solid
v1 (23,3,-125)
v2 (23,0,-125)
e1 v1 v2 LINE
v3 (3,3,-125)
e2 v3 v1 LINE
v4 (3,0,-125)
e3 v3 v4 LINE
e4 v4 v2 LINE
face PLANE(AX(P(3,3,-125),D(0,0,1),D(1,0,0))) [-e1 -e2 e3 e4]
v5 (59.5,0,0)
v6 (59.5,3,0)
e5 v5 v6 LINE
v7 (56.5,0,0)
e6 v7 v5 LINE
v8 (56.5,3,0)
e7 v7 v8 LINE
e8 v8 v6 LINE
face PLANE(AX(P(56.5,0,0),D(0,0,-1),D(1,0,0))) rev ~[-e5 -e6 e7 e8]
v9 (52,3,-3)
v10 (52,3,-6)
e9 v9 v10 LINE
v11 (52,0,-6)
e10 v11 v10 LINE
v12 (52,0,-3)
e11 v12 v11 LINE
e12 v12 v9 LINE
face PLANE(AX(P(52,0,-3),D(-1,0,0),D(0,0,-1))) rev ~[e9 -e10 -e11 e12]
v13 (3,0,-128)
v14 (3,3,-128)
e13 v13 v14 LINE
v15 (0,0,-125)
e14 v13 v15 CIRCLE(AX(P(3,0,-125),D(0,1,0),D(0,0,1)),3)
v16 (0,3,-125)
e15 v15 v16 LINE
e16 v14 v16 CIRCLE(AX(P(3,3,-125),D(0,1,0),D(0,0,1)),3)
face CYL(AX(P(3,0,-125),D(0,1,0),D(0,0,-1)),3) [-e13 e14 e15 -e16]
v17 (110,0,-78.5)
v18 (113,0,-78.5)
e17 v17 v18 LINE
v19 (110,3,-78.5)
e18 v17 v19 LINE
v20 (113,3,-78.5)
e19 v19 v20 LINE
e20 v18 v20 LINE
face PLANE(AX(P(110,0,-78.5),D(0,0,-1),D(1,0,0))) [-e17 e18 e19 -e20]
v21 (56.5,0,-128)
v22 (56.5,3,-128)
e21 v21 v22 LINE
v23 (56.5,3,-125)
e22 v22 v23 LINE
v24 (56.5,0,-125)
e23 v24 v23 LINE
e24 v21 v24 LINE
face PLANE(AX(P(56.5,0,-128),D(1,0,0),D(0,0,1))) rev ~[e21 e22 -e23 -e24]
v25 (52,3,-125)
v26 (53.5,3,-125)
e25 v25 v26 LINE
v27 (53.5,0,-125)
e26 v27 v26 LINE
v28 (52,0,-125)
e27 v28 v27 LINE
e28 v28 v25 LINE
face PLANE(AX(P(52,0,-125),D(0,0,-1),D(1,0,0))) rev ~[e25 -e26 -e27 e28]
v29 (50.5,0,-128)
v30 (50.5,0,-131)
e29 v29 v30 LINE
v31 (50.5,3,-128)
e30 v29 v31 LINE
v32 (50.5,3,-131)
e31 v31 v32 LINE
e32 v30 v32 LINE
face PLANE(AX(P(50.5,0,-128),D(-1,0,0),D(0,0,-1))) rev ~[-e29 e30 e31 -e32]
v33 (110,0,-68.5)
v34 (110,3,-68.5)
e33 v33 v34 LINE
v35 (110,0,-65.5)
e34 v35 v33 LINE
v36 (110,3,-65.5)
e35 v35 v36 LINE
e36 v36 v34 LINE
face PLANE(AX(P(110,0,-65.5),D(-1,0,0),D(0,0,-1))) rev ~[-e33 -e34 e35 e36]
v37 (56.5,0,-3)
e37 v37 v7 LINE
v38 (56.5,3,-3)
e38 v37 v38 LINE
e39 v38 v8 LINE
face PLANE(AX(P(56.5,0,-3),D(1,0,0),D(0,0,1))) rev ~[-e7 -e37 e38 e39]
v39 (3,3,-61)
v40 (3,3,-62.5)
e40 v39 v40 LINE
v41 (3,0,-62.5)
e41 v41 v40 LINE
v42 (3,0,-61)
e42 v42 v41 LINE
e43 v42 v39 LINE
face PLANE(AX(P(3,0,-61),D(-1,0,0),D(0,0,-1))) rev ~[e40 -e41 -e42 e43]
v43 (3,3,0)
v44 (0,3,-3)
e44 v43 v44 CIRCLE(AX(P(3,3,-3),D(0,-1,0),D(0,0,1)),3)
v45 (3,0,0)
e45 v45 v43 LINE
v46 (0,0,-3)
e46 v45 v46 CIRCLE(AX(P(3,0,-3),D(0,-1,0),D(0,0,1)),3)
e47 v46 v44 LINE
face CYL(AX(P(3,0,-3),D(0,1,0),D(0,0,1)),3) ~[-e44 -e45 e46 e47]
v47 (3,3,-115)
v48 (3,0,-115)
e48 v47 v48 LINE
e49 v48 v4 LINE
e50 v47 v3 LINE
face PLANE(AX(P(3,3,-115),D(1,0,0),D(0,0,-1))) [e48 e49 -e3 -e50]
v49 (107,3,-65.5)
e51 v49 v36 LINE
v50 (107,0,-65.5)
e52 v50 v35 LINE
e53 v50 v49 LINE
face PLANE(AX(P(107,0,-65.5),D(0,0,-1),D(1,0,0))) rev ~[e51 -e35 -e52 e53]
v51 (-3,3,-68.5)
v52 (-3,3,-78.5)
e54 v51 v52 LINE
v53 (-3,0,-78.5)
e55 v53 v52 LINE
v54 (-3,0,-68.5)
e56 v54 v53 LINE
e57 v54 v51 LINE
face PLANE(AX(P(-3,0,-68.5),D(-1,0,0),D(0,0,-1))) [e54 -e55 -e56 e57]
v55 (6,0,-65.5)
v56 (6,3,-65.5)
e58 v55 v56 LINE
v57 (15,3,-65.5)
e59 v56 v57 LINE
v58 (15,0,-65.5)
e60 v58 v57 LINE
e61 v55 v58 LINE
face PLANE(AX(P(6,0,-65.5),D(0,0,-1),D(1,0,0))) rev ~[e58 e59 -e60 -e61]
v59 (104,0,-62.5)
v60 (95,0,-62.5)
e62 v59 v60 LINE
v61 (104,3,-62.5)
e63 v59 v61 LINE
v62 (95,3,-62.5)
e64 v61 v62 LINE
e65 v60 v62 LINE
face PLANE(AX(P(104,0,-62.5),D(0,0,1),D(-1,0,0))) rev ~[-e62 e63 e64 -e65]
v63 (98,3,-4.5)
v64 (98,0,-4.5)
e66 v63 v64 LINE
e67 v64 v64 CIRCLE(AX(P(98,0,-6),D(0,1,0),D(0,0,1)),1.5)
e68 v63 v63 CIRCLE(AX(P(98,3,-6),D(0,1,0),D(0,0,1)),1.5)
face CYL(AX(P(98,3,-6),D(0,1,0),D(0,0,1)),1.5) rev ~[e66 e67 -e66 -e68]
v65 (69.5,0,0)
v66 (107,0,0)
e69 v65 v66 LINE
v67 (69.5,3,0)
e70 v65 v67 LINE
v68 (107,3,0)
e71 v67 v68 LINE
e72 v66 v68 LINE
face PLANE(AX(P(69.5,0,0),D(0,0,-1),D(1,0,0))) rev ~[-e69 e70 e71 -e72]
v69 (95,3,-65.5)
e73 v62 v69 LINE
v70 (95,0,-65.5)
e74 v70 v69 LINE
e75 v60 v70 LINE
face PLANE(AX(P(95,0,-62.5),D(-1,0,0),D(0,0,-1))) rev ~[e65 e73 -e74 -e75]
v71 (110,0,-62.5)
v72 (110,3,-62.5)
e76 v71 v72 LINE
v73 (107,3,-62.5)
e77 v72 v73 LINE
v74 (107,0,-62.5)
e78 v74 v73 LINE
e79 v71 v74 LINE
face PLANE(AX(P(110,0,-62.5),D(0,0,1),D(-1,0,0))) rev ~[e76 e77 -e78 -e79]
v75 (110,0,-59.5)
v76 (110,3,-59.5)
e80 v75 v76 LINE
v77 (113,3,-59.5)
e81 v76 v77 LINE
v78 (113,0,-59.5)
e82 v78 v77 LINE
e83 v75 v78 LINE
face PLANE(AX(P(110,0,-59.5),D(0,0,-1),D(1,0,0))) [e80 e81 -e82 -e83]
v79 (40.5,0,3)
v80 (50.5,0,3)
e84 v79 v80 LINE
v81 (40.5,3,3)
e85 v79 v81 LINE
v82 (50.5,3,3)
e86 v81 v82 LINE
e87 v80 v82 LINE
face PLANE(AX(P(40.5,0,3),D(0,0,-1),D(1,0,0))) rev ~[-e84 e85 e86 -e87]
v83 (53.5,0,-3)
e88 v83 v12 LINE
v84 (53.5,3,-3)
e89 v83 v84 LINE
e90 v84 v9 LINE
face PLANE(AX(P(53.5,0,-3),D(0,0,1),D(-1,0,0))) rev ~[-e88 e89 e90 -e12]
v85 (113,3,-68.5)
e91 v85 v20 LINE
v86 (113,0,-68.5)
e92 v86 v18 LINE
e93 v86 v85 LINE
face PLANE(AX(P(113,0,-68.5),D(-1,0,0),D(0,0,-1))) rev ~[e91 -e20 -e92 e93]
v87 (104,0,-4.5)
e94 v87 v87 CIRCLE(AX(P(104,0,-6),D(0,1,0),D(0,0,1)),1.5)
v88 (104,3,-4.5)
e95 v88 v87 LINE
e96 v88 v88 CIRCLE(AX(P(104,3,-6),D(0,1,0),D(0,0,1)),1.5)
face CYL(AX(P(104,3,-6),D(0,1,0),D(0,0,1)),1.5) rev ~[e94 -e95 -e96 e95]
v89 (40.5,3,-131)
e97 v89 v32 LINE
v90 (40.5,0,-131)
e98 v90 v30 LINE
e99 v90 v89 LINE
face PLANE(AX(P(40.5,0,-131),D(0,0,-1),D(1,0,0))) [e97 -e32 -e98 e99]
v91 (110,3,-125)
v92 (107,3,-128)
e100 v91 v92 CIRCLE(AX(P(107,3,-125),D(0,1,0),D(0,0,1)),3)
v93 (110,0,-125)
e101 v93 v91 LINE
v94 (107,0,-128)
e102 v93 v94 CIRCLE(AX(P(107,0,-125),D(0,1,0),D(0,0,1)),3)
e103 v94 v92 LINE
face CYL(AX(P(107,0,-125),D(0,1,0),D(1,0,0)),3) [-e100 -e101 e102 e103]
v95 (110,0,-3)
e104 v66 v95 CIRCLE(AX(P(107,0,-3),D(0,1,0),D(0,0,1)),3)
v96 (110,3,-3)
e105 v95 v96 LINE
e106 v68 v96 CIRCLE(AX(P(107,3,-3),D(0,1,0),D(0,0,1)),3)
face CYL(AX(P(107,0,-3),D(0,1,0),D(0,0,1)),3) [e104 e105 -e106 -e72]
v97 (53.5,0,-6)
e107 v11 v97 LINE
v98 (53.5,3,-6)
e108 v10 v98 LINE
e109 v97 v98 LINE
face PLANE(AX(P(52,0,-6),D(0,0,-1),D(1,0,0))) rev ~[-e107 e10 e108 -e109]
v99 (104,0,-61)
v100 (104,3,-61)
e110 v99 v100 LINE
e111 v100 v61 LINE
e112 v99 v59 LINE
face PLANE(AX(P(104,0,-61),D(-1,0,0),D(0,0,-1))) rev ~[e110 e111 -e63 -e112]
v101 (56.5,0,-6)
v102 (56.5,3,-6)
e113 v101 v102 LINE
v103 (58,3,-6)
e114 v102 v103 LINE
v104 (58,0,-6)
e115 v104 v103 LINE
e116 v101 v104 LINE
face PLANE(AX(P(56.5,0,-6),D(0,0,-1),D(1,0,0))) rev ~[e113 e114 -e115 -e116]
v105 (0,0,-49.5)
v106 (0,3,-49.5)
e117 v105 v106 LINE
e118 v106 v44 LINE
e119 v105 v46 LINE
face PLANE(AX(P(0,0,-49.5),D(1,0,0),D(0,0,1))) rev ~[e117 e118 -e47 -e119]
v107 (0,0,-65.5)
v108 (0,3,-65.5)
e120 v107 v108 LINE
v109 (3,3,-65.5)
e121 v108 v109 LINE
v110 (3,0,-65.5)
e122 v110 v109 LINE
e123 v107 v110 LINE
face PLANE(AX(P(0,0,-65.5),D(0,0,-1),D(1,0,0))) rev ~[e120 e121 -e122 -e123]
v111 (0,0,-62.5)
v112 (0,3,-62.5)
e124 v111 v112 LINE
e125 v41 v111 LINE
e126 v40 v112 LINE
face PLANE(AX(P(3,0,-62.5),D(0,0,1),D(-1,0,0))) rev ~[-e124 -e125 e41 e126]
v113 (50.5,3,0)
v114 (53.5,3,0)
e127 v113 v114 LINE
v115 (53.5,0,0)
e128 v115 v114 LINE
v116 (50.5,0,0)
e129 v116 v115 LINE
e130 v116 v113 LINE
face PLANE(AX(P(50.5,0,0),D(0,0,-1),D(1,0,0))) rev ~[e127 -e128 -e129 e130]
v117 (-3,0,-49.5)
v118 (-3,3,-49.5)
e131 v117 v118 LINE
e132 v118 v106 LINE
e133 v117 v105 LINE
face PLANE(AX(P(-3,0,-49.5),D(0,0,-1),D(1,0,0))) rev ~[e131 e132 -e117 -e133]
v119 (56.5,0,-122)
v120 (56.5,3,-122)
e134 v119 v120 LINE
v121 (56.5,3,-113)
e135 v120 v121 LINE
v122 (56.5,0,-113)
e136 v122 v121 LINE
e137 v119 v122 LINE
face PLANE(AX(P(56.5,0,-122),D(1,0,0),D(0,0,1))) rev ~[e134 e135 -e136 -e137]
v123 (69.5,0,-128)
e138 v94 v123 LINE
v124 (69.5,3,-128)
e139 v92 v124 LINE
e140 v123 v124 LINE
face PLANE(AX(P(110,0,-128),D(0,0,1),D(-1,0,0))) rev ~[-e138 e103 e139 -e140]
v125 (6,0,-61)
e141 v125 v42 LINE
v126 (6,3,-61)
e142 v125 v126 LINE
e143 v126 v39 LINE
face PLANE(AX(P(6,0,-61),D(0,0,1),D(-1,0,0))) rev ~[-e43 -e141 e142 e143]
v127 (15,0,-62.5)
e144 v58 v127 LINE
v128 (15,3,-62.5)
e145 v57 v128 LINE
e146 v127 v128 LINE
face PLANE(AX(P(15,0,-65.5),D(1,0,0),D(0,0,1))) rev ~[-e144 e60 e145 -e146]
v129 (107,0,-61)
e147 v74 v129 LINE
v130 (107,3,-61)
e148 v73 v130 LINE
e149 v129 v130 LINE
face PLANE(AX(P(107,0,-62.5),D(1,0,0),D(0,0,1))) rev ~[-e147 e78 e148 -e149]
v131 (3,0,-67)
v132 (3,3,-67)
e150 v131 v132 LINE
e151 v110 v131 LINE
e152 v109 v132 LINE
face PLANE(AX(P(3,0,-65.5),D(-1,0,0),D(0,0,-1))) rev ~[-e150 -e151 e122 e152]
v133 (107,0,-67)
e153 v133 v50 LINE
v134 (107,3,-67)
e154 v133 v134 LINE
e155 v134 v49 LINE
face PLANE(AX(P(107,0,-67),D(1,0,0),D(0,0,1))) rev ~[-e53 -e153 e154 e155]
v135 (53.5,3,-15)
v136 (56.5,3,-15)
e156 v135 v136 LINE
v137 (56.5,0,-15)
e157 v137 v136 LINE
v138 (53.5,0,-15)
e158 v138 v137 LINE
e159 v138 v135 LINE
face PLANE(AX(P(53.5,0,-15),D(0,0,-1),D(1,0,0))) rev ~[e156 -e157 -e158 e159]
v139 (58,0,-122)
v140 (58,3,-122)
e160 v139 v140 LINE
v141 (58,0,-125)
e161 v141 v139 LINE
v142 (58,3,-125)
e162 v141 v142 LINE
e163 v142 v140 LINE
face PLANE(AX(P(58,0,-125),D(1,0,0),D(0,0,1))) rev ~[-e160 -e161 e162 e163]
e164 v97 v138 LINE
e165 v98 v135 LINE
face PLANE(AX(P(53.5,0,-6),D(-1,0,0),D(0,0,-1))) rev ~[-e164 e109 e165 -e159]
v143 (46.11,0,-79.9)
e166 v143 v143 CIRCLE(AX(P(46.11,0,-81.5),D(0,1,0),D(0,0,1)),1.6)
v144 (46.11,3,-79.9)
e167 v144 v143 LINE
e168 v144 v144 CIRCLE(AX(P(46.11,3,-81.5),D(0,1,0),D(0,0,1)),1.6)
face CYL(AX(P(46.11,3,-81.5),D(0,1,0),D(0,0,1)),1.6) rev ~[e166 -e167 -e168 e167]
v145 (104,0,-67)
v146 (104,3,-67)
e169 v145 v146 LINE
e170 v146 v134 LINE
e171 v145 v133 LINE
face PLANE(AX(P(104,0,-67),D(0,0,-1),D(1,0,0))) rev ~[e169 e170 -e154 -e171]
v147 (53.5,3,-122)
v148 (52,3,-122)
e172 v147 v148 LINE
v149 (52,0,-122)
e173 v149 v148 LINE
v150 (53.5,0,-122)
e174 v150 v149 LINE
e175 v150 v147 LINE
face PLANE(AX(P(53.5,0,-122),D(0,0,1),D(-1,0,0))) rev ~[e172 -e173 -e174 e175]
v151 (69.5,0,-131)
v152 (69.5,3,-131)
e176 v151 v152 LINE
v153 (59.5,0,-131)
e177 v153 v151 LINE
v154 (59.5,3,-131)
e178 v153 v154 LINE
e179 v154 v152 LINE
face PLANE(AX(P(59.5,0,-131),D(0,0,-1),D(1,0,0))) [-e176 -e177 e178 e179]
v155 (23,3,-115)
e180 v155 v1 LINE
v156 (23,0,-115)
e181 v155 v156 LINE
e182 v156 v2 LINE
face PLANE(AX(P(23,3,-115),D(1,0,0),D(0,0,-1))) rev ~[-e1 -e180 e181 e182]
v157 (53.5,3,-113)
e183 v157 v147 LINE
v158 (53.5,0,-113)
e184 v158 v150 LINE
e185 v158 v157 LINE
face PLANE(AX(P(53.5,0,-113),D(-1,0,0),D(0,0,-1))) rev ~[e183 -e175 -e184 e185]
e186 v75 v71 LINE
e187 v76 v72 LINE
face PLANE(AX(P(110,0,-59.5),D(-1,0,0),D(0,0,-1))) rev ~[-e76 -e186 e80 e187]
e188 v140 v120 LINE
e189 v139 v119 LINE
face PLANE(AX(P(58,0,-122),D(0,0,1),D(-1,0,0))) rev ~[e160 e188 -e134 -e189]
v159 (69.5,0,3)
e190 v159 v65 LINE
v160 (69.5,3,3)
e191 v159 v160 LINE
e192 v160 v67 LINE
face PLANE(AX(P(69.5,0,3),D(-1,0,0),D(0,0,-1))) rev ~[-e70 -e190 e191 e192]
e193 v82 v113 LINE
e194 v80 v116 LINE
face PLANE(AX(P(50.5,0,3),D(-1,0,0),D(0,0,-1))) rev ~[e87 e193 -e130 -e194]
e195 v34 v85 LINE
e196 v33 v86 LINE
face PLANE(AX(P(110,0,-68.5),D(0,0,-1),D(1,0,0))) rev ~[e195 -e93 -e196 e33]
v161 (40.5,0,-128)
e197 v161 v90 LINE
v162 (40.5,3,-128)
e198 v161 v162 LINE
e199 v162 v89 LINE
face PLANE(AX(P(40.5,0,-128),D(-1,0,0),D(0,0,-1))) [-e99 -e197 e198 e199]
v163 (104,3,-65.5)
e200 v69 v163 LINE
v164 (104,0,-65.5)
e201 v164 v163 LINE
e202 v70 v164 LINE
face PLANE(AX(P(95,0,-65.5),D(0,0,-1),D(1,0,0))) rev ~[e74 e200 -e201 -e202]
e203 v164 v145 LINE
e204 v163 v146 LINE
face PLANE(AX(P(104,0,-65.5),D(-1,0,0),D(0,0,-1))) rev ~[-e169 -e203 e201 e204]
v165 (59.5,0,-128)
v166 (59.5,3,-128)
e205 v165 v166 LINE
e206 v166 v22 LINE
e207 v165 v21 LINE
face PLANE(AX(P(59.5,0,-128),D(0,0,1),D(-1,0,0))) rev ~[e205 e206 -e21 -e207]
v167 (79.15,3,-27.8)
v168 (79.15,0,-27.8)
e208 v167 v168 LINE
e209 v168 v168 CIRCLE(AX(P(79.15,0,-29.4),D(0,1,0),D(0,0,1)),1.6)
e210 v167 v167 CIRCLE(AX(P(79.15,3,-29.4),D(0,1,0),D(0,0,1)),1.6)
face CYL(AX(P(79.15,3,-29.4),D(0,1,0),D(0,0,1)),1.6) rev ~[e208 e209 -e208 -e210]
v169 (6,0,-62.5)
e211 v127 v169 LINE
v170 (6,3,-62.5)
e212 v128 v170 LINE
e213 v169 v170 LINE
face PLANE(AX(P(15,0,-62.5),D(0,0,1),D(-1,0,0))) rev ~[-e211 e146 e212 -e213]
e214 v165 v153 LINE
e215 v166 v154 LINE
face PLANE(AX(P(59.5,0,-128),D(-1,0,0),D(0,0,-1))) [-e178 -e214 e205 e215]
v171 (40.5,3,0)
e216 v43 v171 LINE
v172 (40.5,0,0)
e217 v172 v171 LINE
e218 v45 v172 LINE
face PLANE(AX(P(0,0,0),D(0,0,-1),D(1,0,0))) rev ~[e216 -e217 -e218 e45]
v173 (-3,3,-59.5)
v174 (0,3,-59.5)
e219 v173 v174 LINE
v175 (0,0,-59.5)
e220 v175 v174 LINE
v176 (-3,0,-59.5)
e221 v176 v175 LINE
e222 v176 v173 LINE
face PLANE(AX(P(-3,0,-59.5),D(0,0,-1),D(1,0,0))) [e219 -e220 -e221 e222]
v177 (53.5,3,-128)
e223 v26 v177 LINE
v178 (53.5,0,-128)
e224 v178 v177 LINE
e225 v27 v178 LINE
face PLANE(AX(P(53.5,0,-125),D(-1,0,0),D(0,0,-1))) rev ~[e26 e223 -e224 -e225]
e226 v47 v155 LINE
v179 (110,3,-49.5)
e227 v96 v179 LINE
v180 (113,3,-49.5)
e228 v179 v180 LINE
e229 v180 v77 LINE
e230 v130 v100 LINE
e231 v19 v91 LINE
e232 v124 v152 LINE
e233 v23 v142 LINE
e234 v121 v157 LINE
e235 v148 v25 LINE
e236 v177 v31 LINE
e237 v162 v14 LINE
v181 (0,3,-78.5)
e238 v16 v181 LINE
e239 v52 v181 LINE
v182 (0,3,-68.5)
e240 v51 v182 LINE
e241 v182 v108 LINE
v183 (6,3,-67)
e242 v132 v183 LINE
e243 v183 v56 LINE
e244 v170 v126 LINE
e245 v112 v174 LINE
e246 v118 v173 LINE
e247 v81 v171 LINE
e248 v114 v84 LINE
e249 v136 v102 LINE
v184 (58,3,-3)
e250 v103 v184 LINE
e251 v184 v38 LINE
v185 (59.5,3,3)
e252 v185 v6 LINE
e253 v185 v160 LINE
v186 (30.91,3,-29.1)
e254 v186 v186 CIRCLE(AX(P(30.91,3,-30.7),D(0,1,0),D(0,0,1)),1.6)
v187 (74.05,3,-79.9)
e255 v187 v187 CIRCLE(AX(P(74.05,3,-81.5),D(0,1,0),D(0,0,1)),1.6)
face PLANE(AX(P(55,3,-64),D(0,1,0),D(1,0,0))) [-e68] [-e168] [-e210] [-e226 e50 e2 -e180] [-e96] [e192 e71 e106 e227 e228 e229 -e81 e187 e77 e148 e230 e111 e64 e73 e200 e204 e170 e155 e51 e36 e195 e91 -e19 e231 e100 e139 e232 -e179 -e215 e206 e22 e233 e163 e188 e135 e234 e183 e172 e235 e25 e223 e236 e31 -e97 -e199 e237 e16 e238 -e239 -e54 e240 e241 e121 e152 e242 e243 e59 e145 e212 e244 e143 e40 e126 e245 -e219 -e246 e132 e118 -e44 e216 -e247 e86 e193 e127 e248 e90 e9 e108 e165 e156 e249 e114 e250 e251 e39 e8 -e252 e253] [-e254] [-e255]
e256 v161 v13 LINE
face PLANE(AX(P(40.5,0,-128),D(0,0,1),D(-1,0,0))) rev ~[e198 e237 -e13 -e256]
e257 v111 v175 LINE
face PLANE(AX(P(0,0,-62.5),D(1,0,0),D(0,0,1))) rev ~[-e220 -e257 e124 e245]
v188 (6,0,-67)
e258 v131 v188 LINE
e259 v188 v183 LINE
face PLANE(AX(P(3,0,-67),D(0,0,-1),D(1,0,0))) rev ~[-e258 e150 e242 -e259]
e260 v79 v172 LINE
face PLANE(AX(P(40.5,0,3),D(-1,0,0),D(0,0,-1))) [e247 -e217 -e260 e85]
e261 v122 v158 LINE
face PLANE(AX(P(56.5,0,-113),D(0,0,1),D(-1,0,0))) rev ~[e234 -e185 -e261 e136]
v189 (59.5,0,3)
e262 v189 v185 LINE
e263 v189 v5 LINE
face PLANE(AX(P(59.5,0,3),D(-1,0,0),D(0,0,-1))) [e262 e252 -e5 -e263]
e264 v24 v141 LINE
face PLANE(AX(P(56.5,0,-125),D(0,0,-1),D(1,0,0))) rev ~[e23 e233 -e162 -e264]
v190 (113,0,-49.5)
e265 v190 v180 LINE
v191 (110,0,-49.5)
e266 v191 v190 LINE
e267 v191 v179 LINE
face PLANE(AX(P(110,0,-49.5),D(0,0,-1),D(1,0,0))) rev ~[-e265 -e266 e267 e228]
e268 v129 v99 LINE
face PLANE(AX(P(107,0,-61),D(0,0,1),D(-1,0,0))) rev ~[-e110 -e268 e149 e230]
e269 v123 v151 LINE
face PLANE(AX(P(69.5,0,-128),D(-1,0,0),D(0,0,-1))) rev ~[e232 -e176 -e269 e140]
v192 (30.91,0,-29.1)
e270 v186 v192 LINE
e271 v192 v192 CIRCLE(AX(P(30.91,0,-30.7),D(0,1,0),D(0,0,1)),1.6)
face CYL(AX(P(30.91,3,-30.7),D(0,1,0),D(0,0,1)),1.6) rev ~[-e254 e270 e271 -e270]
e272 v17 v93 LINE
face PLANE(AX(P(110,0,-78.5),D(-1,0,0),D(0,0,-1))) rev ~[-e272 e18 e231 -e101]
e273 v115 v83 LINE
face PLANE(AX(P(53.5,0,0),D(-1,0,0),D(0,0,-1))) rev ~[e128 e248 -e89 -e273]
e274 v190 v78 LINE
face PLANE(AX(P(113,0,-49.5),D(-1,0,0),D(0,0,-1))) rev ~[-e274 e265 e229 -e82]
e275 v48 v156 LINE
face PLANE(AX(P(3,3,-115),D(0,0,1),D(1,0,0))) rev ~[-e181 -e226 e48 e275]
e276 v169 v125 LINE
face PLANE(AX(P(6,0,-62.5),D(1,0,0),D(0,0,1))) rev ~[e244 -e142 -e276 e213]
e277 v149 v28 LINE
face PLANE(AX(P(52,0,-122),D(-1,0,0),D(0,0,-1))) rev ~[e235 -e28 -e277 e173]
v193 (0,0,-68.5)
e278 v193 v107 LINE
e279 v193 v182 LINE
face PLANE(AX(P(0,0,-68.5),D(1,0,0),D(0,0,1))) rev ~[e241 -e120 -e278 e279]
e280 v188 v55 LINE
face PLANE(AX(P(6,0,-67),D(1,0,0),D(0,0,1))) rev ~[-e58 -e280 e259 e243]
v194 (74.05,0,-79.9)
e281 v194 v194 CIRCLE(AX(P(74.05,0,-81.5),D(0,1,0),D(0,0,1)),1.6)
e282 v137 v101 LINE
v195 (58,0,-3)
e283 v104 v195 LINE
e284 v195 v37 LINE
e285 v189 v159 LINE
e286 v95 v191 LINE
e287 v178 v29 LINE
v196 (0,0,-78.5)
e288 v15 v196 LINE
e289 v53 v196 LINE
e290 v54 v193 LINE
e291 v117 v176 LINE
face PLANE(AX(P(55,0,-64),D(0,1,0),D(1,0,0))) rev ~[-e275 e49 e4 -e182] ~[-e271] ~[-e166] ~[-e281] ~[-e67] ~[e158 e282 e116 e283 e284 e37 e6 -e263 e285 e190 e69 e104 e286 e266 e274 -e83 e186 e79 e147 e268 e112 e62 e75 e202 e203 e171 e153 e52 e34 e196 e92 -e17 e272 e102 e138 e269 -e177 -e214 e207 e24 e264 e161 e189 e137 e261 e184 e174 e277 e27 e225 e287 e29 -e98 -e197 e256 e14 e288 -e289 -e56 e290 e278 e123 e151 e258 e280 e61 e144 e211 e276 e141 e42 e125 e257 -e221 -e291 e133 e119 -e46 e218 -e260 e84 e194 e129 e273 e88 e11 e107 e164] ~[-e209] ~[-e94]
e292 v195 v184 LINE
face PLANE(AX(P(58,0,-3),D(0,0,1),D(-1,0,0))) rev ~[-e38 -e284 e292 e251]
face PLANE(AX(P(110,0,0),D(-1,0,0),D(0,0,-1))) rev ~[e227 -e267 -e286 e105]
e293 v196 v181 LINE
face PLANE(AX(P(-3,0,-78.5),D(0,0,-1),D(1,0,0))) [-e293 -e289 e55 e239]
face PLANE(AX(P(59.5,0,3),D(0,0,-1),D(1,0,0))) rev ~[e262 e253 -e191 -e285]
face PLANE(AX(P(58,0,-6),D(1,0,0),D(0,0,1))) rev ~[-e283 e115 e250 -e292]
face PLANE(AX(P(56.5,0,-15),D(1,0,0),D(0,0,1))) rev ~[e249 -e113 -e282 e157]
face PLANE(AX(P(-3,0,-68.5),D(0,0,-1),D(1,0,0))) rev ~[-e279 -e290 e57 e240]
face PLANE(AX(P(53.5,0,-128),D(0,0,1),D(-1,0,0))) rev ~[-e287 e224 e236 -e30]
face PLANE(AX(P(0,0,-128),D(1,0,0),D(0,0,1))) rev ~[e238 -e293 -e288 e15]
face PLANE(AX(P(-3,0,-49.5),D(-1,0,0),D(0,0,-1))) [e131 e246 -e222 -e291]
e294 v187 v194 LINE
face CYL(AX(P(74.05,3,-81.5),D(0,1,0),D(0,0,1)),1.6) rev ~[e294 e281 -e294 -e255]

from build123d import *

# Parameters (mm, degrees)
SKETCH1_W           = 3
SKETCH1_H           = 10
SKETCH1_W_2         = 10
SKETCH1_H_2         = 3
BOSS_EXTRUDE2_DEPTH = 3
FILLET1_R           = 3
SKETCH2_R           = 1.6
CUT_EXTRUDE1_DEPTH  = 3
SKETCH3_R           = 1.5
CUT_EXTRUDE2_DEPTH  = 10
SKETCH4_W           = 20
SKETCH4_H           = 10
CUT_EXTRUDE3_DEPTH  = 10


with BuildPart() as part:
    # Sketch1 → Boss-Extrude2 (new body)
    with BuildSketch(Plane(origin=(0, 0, 0), x_dir=(1, 0, 0), z_dir=(0, 1, 0))):
        Polygon((0, 49.5), (0, 0), (40.5, 0), (50.5, 0), (53.5, 0), (53.5, 3), (52, 3), (52, 6), (53.5, 6), (53.5, 15), (56.5, 15), (56.5, 6), (58, 6), (58, 3), (56.5, 3), (56.5, 0), (59.5, 0), (69.5, 0), (110, 0), (110, 49.5), (110, 59.5), (110, 62.5), (107, 62.5), (107, 61), (104, 61), (104, 62.5), (95, 62.5), (95, 65.5), (104, 65.5), (104, 67), (107, 67), (107, 65.5), (110, 65.5), (110, 68.5), (110, 78.5), (110, 128), (69.5, 128), (59.5, 128), (56.5, 128), (56.5, 125), (58, 125), (58, 122), (56.5, 122), (56.5, 113), (53.5, 113), (53.5, 122), (52, 122), (52, 125), (53.5, 125), (53.5, 128), (50.5, 128), (40.5, 128), (0, 128), (0, 78.5), (0, 68.5), (0, 65.5), (3, 65.5), (3, 67), (6, 67), (6, 65.5), (15, 65.5), (15, 62.5), (6, 62.5), (6, 61), (3, 61), (3, 62.5), (0, 62.5), (0, 59.5), align=None)
        with Locations((111.5, 73.5)):
            Rectangle(SKETCH1_W, SKETCH1_H)
        with Locations((-1.5, 54.5)):
            Rectangle(SKETCH1_W, SKETCH1_H)
        with Locations((-1.5, 73.5)):
            Rectangle(SKETCH1_W, SKETCH1_H)
        with Locations((45.5, -1.5)):
            Rectangle(SKETCH1_W_2, SKETCH1_H_2)
        with Locations((45.5, 129.5)):
            Rectangle(SKETCH1_W_2, SKETCH1_H_2)
        with Locations((64.5, 129.5)):
            Rectangle(SKETCH1_W_2, SKETCH1_H_2)
        with Locations((64.5, -1.5)):
            Rectangle(SKETCH1_W_2, SKETCH1_H_2)
        with Locations((111.5, 54.5)):
            Rectangle(SKETCH1_W, SKETCH1_H)
    extrude(amount=BOSS_EXTRUDE2_DEPTH)

    # Fillet1
    fillet1_edges = [part.edges().sort_by_distance(p)[0] for p in [
        (0, 1.5, 0),
        (0, 1.5, -128),
        (110, 1.5, -128),
        (110, 1.5, 0),
    ]]
    fillet(fillet1_edges, radius=FILLET1_R)

    # Sketch2 → Cut-Extrude1 (cut)
    with BuildSketch(Plane(origin=(0, 3, 0), x_dir=(1, 0, 0), z_dir=(0, 1, 0))):
        with Locations(Location((74.05, 81.5, 0), (0, 0, 270))):
            Circle(SKETCH2_R)
        with Locations(Location((46.11, 81.5, 0), (0, 0, 270))):
            Circle(SKETCH2_R)
        with Locations(Location((79.15, 29.4, 0), (0, 0, 270))):
            Circle(SKETCH2_R)
        with Locations(Location((30.91, 30.7, 0), (0, 0, 270))):
            Circle(SKETCH2_R)
    extrude(amount=-CUT_EXTRUDE1_DEPTH, mode=Mode.SUBTRACT)

    # Sketch3 → Cut-Extrude2 (cut)
    with BuildSketch(Plane(origin=(0, 3, 0), x_dir=(1, 0, 0), z_dir=(0, 1, 0))):
        with Locations(Location((98, 6, 0), (0, 0, 270))):
            Circle(SKETCH3_R)
        with Locations(Location((104, 6, 0), (0, 0, 270))):
            Circle(SKETCH3_R)
    extrude(amount=-CUT_EXTRUDE2_DEPTH, mode=Mode.SUBTRACT)

    # Sketch4 → Cut-Extrude3 (cut)
    with BuildSketch(Plane(origin=(0, 3, 0), x_dir=(1, 0, 0), z_dir=(0, 1, 0))):
        with Locations((13, 120)):
            Rectangle(SKETCH4_W, SKETCH4_H)
    extrude(amount=-CUT_EXTRUDE3_DEPTH, mode=Mode.SUBTRACT)


solid = part.part
